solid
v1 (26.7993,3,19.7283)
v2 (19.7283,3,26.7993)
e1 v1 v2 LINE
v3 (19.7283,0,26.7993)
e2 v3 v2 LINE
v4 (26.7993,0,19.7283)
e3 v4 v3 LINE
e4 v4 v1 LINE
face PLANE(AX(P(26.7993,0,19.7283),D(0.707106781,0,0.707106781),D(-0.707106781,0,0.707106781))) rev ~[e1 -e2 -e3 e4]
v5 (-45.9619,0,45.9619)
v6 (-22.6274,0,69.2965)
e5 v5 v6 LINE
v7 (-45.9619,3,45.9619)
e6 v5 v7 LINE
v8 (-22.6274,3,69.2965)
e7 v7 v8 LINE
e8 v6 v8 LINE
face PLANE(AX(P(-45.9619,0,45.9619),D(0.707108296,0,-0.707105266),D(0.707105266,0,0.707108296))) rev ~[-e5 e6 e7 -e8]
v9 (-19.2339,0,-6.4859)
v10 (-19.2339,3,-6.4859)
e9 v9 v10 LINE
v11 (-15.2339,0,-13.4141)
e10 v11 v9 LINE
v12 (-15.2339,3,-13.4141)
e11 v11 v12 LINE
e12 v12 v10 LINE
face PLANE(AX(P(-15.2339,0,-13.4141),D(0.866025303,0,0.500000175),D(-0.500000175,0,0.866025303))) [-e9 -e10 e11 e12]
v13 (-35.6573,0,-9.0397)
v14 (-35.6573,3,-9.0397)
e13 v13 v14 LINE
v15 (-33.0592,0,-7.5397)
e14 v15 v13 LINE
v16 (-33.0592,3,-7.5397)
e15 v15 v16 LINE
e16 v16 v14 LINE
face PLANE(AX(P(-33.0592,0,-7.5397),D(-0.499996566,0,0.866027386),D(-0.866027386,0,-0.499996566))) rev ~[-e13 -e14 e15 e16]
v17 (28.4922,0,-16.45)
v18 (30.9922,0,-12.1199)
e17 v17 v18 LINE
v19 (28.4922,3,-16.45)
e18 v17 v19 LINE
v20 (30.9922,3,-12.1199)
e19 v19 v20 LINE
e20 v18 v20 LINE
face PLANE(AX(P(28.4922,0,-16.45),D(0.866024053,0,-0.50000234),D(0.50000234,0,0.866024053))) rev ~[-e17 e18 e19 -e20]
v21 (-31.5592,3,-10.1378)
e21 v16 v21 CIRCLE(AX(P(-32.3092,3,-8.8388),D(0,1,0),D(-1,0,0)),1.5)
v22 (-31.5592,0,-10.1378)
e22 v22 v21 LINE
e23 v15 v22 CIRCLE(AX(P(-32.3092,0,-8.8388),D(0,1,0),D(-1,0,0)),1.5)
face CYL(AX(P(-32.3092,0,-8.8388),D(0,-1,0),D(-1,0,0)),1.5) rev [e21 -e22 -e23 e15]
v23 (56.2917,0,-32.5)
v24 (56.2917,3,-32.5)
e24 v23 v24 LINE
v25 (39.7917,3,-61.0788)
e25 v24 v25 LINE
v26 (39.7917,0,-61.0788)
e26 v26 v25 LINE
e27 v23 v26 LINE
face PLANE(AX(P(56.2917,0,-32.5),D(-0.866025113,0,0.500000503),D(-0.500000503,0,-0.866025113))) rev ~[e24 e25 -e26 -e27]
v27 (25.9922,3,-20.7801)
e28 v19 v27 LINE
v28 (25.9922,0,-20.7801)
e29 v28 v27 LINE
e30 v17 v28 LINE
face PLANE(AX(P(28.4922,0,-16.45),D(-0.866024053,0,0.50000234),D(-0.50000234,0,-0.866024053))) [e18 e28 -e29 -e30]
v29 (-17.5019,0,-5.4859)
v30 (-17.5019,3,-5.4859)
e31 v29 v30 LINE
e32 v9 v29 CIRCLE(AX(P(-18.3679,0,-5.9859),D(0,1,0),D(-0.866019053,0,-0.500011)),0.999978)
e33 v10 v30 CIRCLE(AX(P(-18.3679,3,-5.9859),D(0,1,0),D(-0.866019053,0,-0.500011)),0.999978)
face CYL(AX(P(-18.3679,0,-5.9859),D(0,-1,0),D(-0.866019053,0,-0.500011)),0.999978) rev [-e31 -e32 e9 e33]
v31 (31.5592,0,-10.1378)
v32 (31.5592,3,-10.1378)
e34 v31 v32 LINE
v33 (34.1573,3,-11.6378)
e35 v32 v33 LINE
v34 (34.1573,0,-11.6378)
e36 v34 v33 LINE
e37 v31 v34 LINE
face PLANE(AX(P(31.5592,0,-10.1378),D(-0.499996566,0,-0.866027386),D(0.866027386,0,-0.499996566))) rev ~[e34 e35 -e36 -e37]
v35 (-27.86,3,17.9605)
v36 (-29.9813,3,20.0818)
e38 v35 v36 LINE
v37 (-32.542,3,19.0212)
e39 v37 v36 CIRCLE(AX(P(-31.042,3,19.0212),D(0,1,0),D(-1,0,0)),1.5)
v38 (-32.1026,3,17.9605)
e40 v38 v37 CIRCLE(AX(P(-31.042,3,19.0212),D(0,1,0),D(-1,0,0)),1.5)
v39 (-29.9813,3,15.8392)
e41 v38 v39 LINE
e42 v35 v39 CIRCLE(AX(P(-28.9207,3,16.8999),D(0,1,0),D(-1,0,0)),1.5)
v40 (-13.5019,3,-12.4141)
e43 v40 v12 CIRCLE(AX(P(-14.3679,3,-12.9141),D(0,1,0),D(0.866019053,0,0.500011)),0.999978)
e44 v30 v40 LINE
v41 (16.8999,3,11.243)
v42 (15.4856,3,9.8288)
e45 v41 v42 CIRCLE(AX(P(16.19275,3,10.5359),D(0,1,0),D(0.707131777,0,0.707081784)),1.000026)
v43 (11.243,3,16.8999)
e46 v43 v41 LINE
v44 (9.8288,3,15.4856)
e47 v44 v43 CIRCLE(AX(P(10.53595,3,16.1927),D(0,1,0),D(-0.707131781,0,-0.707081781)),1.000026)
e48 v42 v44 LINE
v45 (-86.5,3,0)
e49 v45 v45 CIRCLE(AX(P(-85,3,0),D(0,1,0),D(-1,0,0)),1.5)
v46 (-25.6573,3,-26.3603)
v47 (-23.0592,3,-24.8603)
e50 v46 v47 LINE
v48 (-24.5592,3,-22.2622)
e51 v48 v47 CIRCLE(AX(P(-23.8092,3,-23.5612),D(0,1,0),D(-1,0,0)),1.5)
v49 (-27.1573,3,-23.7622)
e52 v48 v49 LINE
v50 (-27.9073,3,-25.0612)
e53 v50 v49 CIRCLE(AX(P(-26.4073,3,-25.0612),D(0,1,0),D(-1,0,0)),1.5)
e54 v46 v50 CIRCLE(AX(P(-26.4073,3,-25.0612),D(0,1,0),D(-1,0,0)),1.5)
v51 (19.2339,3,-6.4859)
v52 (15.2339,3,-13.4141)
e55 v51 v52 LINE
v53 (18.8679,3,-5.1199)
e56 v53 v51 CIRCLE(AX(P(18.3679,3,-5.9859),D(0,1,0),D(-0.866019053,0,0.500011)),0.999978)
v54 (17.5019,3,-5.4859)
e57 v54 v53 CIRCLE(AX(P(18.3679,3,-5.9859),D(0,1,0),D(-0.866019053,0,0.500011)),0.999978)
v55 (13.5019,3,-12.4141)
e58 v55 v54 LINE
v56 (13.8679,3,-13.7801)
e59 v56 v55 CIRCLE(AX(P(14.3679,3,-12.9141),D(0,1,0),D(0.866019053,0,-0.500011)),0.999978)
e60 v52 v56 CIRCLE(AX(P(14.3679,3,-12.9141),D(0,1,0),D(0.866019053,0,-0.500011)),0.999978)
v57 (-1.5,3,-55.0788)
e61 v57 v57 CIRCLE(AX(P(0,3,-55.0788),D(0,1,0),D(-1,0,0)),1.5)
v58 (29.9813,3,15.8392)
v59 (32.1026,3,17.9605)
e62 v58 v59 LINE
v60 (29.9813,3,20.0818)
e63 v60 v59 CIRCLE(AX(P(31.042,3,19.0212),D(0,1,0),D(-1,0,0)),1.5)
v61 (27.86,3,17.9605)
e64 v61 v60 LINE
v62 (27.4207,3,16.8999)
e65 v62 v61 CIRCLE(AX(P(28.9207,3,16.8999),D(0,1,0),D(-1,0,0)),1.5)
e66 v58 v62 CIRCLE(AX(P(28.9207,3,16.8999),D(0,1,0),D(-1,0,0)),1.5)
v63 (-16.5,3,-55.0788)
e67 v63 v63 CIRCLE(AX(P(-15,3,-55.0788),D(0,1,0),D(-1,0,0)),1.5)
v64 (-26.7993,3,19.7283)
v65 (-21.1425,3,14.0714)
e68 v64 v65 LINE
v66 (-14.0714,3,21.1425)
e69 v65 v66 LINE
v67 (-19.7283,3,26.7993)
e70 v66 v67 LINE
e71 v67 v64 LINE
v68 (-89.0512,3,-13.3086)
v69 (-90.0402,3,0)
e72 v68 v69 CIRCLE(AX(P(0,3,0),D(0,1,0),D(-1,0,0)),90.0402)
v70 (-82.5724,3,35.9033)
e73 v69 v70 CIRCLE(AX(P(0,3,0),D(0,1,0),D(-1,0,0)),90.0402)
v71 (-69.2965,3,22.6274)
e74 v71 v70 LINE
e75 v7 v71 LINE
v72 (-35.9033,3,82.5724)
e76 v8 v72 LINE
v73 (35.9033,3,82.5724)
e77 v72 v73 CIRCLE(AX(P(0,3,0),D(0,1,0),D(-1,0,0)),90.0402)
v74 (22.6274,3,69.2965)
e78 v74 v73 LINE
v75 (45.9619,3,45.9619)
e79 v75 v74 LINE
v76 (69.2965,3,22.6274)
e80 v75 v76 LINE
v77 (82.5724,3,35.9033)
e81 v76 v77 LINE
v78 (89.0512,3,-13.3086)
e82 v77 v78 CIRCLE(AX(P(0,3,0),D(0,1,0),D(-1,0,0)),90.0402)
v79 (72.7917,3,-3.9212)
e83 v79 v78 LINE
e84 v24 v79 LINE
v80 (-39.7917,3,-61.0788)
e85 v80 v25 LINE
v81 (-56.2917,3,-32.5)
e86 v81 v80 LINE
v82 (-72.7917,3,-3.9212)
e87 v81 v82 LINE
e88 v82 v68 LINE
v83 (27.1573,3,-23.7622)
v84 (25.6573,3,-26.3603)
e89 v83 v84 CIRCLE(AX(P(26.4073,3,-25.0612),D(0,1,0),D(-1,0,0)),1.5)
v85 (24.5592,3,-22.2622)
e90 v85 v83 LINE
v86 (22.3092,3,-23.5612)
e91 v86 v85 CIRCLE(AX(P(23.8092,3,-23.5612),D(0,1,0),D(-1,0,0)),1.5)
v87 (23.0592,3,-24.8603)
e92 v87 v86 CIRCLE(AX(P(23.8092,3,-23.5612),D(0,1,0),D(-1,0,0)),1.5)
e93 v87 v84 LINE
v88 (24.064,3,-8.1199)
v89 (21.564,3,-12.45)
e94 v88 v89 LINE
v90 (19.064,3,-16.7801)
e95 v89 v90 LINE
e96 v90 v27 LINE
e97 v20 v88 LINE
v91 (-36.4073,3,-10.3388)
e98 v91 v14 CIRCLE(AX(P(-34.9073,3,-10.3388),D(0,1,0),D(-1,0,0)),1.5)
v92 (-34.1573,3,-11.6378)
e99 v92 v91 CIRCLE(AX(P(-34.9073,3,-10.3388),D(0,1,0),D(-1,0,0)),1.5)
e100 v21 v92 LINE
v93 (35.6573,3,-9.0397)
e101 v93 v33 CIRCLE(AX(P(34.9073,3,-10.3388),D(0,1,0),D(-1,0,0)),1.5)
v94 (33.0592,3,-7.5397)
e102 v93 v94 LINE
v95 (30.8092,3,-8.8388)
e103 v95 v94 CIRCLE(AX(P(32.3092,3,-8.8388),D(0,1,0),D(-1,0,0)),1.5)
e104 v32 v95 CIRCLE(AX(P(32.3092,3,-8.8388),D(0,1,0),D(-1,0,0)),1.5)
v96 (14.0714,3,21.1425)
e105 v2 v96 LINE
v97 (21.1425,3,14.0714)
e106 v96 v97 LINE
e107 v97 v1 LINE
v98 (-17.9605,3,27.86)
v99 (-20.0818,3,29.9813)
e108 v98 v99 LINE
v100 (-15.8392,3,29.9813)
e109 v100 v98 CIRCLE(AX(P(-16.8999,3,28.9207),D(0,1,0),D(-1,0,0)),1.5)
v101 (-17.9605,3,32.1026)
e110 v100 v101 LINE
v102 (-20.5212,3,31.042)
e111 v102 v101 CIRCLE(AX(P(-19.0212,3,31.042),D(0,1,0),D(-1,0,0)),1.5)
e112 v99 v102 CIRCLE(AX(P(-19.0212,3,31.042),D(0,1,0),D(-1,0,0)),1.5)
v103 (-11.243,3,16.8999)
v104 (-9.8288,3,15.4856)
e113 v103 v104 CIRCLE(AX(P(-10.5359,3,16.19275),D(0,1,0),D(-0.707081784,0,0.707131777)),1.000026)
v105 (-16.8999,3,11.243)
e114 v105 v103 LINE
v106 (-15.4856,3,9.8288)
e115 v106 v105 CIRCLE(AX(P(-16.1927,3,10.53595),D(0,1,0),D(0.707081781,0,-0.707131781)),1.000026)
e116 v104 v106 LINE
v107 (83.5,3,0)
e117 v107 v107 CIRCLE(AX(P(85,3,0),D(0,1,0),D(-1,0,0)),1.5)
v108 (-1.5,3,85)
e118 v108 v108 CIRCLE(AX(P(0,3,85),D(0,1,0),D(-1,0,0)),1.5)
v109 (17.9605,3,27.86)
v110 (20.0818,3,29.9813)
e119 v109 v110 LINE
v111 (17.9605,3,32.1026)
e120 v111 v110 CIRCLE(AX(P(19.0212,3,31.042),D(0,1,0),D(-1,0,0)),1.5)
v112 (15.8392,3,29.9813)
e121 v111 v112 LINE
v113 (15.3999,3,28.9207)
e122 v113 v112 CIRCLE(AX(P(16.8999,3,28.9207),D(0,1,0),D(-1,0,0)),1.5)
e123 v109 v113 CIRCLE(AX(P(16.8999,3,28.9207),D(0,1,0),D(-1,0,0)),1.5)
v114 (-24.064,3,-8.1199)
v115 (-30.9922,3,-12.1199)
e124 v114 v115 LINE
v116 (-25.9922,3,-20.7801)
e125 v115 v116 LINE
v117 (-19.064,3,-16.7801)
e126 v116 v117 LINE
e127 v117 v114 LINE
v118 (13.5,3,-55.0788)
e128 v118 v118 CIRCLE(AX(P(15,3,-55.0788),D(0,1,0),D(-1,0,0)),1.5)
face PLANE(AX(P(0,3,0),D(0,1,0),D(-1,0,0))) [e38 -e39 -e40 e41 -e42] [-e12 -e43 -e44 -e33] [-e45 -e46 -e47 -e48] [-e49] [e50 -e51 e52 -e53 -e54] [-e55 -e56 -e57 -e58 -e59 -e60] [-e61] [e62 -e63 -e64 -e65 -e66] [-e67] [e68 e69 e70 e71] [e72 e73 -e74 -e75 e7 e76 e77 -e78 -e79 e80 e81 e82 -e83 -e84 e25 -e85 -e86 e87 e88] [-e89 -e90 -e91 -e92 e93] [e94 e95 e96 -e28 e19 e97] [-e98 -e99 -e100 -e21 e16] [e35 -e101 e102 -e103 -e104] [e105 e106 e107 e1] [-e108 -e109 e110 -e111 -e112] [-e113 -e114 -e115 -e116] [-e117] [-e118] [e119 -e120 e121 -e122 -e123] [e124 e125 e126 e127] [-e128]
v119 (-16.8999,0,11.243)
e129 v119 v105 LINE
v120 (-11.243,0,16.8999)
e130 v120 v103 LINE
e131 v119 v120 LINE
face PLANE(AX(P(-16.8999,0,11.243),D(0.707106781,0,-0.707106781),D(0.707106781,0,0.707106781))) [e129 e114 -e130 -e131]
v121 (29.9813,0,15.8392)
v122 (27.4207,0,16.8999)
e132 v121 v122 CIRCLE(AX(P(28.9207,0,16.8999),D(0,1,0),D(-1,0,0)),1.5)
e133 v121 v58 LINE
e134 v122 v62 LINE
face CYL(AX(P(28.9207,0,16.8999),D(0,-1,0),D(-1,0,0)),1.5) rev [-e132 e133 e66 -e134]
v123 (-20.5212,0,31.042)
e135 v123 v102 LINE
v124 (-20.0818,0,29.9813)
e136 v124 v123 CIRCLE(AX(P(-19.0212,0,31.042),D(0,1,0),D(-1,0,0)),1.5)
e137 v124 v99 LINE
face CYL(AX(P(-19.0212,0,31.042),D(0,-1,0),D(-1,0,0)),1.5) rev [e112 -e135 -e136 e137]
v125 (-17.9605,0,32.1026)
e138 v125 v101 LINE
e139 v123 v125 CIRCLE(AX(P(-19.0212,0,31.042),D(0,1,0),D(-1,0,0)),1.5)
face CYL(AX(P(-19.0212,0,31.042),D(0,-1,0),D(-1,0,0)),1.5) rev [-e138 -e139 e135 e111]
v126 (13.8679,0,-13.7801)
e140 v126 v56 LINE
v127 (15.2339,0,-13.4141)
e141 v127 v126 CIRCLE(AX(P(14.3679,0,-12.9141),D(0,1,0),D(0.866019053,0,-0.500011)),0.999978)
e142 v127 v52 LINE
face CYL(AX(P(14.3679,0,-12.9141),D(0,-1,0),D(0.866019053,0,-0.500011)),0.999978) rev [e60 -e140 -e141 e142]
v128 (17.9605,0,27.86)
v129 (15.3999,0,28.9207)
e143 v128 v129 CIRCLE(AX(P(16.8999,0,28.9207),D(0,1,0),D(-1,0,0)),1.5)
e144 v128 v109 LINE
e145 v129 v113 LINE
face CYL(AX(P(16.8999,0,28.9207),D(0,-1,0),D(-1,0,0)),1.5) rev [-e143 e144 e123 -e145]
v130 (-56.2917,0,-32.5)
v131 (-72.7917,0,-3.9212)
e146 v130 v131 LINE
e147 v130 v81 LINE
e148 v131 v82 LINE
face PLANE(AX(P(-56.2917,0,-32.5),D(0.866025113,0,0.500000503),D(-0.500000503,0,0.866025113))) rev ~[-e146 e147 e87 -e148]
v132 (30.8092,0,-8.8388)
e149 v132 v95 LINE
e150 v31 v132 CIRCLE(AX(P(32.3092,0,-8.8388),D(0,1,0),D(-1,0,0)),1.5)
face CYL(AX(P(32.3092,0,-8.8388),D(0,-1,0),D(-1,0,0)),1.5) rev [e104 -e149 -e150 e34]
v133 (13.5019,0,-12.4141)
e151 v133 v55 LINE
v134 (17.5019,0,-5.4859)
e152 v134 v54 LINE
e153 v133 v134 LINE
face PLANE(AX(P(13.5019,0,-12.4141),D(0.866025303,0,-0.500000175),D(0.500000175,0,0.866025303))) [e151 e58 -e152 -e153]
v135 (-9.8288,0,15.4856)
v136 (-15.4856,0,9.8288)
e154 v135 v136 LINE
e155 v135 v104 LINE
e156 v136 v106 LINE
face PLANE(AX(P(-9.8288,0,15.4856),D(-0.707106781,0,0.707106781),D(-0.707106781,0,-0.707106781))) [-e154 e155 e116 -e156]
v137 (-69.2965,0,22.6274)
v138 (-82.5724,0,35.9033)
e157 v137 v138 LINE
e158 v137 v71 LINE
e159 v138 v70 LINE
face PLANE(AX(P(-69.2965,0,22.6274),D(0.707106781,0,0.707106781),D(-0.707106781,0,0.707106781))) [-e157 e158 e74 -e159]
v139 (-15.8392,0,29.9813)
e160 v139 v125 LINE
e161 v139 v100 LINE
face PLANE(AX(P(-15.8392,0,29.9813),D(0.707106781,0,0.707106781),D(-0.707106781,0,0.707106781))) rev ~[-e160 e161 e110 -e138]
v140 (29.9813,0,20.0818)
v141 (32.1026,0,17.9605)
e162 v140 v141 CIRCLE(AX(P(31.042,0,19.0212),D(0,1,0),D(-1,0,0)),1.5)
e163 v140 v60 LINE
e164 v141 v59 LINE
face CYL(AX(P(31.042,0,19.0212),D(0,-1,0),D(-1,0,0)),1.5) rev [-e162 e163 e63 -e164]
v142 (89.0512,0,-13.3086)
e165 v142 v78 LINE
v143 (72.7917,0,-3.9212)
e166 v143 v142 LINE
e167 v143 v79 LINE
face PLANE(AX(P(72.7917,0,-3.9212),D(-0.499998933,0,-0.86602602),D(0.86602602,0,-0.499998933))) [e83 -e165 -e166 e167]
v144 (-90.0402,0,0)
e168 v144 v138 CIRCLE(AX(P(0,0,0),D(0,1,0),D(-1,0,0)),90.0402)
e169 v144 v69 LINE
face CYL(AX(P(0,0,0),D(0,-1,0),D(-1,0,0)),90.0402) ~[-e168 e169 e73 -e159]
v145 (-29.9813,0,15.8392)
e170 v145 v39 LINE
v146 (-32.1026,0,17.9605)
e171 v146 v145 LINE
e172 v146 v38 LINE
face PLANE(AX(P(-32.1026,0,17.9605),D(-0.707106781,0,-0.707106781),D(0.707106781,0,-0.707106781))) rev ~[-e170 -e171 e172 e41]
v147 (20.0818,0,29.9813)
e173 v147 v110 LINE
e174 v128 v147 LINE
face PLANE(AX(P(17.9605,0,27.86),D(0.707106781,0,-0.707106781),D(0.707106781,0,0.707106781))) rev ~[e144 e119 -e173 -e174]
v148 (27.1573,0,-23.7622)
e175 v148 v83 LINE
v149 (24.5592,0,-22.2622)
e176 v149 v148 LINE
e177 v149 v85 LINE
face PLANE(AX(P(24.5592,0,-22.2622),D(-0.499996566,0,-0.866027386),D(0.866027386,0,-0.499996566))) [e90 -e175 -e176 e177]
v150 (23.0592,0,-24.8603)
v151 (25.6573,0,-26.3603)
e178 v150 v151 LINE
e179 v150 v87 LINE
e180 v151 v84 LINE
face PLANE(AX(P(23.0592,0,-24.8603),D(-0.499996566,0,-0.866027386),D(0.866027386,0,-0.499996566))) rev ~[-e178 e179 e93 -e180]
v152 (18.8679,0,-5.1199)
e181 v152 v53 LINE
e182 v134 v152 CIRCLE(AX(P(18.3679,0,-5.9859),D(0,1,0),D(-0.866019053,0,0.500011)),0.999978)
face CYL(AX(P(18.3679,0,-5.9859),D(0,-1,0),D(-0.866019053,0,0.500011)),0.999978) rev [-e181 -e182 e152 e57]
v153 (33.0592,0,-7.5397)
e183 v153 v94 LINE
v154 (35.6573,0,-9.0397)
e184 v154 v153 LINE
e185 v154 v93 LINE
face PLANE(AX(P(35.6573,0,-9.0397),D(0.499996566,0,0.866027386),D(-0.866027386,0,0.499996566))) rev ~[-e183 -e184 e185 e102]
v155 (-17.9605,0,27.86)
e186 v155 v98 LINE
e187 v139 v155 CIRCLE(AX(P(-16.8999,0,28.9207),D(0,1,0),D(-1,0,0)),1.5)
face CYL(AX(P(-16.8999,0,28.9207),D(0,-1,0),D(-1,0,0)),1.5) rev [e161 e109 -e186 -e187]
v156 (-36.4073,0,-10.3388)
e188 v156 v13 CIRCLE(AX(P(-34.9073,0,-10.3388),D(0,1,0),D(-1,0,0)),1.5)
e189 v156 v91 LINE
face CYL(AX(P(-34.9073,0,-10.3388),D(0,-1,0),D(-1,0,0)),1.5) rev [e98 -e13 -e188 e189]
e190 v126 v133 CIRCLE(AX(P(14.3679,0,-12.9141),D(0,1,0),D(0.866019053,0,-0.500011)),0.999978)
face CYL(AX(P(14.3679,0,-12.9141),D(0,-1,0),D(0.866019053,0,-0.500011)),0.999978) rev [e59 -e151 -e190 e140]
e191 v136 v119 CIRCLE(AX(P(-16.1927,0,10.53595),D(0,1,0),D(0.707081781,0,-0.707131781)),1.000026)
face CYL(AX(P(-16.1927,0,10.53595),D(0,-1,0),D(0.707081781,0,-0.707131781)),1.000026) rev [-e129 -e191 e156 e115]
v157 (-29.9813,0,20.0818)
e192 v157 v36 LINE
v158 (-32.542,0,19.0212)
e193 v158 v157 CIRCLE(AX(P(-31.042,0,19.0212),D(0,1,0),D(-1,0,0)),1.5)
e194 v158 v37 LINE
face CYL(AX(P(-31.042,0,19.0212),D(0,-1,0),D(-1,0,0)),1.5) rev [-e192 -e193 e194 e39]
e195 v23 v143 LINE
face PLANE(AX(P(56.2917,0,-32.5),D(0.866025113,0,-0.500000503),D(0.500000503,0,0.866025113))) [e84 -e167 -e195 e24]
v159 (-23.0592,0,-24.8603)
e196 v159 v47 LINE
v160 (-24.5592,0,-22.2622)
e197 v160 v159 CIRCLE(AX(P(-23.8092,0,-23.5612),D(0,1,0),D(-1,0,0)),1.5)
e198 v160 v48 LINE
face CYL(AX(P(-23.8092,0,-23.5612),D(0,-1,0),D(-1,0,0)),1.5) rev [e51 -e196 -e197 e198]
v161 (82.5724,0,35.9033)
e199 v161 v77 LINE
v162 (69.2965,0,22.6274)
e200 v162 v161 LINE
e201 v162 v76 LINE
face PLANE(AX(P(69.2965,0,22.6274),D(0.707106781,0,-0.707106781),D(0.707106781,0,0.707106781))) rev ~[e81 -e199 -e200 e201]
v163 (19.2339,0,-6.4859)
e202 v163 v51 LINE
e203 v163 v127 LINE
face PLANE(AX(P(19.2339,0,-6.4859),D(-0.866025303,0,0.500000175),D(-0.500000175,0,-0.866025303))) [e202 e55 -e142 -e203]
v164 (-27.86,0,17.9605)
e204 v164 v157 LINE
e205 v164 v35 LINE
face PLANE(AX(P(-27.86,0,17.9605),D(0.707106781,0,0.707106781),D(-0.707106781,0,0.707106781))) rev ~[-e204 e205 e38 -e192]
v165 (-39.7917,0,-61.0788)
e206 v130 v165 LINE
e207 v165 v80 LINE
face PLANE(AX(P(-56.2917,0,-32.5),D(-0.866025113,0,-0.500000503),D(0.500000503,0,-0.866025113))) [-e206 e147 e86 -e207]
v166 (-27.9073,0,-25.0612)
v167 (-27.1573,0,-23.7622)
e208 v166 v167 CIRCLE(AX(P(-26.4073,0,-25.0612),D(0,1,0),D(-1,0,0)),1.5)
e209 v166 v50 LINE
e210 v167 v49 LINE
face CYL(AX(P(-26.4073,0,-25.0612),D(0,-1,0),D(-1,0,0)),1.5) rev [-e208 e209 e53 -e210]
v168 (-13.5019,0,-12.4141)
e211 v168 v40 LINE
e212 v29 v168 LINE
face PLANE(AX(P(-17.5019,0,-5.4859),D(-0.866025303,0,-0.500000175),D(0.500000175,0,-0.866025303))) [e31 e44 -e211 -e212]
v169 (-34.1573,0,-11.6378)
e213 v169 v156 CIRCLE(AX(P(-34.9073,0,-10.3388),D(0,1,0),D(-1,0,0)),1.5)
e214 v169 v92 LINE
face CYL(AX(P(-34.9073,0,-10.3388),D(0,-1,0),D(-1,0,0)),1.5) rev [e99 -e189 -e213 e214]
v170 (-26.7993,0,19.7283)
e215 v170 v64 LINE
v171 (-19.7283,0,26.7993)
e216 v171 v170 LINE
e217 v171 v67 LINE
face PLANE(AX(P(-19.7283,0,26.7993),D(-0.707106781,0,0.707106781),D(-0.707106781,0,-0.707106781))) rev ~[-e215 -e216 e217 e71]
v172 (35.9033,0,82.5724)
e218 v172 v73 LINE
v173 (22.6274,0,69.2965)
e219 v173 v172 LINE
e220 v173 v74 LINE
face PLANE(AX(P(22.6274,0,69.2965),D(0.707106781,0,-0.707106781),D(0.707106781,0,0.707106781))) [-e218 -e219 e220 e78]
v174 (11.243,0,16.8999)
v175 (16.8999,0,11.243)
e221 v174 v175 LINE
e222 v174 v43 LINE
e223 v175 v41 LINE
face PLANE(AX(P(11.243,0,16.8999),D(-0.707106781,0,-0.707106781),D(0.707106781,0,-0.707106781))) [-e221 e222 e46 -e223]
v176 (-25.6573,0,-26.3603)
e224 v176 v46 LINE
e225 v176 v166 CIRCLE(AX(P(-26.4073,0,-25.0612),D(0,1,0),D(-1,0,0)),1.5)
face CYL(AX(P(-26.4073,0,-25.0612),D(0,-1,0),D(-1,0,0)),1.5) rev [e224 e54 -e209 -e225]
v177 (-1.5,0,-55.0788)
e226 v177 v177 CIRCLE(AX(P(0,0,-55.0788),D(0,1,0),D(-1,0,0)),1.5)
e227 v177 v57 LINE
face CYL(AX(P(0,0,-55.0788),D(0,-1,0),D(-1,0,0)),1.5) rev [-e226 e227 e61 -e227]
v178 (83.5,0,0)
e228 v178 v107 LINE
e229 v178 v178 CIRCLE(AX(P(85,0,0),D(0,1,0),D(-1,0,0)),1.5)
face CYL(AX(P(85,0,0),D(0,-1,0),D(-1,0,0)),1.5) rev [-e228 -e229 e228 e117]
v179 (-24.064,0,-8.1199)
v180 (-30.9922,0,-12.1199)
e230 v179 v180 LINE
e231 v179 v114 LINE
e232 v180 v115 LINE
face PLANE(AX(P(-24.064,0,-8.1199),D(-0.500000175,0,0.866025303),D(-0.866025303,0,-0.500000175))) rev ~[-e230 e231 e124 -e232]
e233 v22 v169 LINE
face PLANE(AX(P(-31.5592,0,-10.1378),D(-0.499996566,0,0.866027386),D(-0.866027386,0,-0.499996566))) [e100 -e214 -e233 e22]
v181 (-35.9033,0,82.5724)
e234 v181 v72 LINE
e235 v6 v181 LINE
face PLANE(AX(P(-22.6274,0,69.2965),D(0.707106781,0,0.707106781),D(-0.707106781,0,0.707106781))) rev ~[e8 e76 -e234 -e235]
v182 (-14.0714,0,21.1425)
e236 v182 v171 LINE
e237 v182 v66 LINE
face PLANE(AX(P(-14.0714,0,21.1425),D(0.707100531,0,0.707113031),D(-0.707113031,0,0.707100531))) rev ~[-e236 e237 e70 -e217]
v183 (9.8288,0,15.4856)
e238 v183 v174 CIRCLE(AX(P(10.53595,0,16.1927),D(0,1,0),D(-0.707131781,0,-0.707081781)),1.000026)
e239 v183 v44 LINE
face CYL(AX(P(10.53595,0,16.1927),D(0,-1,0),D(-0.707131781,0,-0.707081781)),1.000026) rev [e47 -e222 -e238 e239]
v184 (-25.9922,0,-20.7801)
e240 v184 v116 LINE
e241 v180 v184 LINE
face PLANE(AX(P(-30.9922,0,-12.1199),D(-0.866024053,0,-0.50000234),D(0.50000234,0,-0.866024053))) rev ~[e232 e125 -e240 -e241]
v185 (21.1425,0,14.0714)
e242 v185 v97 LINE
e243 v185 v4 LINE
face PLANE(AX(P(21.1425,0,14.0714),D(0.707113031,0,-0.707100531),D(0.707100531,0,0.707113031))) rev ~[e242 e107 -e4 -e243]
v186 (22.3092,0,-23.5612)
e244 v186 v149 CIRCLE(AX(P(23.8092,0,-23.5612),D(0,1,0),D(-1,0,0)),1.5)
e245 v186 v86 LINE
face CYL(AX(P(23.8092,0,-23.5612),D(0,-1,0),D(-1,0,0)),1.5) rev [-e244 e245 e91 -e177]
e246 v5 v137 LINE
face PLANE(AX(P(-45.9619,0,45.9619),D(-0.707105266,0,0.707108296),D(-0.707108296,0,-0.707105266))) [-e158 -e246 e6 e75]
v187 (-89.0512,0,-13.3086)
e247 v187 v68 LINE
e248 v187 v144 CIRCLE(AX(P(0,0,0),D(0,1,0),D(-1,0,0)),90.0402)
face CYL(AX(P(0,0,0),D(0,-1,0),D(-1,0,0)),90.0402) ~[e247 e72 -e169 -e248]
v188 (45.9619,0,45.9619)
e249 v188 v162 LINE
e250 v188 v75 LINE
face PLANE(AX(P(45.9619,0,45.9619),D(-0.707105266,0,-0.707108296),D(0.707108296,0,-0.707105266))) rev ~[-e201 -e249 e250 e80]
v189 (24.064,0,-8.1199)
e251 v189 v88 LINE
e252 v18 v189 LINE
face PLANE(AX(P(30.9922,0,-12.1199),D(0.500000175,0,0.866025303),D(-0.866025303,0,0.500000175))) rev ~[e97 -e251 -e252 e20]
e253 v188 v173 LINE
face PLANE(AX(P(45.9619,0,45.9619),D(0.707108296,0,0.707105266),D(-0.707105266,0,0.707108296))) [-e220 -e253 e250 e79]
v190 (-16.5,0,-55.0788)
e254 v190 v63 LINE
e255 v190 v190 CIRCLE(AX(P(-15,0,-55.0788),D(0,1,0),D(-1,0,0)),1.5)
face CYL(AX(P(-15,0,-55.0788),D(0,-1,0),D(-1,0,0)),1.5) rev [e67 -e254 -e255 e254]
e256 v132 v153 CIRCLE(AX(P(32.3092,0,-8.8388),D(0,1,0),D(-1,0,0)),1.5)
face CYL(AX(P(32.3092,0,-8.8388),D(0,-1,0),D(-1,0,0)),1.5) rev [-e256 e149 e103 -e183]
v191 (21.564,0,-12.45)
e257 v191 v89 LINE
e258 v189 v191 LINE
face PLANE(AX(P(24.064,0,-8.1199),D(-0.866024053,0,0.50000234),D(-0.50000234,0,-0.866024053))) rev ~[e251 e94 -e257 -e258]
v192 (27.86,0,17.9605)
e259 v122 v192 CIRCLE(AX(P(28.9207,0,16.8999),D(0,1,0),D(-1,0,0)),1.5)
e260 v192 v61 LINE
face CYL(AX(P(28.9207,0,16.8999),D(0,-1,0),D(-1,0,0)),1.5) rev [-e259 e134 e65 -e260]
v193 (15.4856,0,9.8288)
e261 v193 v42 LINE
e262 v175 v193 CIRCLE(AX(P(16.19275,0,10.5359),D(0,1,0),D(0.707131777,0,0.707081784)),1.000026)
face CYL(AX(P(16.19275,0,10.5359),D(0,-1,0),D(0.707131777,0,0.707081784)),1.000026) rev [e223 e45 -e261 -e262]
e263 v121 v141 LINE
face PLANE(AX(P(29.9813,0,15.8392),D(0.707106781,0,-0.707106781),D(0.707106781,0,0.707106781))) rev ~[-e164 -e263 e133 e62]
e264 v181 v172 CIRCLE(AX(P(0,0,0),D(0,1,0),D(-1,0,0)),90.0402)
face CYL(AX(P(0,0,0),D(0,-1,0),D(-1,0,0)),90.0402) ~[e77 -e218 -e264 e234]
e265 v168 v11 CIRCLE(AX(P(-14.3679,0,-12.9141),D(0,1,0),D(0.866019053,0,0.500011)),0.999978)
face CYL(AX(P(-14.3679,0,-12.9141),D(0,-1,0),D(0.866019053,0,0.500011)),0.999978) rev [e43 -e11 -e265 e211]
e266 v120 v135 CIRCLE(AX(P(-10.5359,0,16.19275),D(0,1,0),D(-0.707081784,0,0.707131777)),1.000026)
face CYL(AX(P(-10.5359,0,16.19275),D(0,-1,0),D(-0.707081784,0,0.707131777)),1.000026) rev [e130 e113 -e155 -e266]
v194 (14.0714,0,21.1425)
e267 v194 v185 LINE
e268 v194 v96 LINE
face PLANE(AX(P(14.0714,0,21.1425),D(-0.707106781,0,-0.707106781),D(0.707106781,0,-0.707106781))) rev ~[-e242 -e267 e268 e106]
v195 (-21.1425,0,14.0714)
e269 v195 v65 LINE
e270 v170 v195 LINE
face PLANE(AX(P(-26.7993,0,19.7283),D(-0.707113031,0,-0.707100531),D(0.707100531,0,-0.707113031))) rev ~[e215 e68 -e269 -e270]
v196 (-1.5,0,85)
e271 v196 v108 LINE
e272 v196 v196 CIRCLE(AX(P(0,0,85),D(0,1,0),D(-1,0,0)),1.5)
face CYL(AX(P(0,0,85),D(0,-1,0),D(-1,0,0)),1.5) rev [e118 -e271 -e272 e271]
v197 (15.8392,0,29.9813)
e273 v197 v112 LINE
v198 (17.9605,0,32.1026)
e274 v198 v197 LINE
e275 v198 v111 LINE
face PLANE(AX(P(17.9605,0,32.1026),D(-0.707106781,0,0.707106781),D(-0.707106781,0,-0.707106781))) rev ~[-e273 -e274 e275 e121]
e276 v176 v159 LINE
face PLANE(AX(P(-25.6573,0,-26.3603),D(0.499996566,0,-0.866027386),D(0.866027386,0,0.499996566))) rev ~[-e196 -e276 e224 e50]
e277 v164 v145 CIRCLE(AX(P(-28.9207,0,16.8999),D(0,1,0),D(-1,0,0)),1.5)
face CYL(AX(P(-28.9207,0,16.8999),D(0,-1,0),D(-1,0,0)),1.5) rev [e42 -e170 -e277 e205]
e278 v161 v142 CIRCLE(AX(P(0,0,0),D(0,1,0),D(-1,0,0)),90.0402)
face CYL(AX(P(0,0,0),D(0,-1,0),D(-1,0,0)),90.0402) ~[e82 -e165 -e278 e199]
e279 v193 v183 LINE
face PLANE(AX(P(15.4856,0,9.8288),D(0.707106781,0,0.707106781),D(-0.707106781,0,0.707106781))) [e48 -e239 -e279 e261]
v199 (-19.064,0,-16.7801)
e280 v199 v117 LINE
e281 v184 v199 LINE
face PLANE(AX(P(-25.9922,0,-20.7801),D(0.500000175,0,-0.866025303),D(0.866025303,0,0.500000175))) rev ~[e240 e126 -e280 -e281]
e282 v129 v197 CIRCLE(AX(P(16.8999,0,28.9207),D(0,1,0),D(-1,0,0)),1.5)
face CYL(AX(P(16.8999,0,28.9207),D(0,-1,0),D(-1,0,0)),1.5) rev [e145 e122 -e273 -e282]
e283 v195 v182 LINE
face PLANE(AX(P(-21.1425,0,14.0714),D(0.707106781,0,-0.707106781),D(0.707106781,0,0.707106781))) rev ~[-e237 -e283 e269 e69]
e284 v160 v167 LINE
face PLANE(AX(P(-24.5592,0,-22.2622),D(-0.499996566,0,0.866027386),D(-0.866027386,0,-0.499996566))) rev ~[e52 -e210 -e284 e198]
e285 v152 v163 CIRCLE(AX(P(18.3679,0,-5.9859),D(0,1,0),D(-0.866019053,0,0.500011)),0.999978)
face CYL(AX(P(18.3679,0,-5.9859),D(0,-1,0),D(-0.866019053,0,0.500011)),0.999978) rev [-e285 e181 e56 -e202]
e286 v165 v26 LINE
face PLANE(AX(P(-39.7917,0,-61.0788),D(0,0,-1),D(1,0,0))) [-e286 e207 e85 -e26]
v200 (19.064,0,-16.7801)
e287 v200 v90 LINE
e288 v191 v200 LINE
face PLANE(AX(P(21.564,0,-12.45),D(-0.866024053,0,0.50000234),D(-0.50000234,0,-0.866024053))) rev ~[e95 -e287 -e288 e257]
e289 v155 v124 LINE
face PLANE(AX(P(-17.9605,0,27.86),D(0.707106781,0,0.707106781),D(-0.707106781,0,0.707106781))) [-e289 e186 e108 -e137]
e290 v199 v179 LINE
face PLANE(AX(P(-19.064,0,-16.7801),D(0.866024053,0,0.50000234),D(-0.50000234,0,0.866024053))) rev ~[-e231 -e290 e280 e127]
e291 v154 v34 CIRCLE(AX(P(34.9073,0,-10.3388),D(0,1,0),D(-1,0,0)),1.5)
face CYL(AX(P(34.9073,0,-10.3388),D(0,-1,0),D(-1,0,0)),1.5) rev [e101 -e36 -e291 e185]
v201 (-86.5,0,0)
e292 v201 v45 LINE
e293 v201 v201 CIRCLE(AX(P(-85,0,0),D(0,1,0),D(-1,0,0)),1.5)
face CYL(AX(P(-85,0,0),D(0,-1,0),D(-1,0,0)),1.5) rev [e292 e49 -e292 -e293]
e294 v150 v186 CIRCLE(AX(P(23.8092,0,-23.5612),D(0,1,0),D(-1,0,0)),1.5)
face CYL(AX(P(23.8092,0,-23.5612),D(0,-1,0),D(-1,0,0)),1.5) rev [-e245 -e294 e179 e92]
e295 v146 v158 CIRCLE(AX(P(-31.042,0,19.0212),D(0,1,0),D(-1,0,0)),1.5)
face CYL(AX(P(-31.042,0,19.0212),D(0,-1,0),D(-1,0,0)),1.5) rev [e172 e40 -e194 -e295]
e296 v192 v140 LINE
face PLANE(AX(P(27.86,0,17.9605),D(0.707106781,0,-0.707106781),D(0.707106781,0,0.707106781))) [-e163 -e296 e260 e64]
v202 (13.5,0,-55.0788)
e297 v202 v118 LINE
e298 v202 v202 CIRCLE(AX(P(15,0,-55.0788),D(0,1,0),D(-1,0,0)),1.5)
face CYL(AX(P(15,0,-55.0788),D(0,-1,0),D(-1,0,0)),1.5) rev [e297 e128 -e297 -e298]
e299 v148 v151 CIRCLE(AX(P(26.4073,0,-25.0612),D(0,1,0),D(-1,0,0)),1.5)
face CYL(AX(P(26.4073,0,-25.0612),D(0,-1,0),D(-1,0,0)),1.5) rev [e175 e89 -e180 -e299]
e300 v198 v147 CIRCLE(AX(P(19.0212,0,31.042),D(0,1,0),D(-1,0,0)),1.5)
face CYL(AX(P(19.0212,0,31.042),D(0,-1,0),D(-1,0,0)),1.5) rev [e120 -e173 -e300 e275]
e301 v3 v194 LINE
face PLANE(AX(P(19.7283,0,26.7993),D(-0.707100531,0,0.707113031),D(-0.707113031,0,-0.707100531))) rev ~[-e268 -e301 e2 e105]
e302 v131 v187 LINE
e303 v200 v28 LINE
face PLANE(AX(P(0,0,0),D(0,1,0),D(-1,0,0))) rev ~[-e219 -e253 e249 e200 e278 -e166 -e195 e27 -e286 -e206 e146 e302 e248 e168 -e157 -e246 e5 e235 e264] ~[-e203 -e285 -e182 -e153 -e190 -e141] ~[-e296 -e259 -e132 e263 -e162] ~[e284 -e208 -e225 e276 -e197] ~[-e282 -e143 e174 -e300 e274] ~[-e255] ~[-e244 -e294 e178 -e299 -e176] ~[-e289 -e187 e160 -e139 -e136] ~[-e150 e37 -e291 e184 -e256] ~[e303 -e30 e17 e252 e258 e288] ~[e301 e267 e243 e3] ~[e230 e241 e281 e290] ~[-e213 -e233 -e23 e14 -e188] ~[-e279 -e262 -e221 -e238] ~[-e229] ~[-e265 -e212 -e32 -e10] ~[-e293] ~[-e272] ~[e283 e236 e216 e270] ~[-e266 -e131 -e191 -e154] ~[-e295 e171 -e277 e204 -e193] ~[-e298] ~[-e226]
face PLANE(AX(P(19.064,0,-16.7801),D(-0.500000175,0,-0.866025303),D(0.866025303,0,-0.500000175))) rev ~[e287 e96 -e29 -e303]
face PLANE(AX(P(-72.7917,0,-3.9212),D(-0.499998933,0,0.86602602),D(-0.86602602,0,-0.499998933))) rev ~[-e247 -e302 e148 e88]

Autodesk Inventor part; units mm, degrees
ref_plane "YZ Plane" through (0, 0, 0) normal (1, 0, 0) x (0, 1, 0)
ref_plane "XZ Plane" through (0, 0, 0) normal (0, 1, 0) x (-1, 0, 0)
ref_plane "XY Plane" through (0, 0, 0) normal (0, 0, 1) x (1, 0, 0)
sketch "Sketch1" plane through (0, 0, 0) normal (0, 1, 0) x (-1, 0, 0)
  circle A0 centre (0, 0) radius 90.0402
  line L0 (77.9423, -45) -> (56.2917, -32.5)
  line L1 (56.2917, -32.5) -> (39.7917, -61.0788)
  line L2 (39.7917, -61.0788) -> (56.0512, -70.4663)
  line L3 (56.2917, -32.5) -> (72.7917, -3.9212)
  line L4 (72.7917, -3.9212) -> (89.0512, -13.3086)
  line L5 (77.9423, -45) -> (61.4878, -35.5)
  line L6 (-77.9423, -45) -> (-56.2917, -32.5)
  line L7 (-56.2917, -32.5) -> (-72.7917, -3.9212)
  line L8 (-72.7917, -3.9212) -> (-89.0512, -13.3086)
  line L9 (-56.2917, -32.5) -> (-39.7917, -61.0788)
  line L10 (-39.7917, -61.0788) -> (-56.0512, -70.4663)
  line L11 (-77.9423, -45) -> (-61.4878, -35.5)
  line L12 (-24.1621, -13.95) -> (-28.4922, -16.45)
  line L13 (-24.1621, -13.95) -> (-21.564, -12.45)
  line L14 (-28.4922, -16.45) -> (-25.9922, -20.7801)
  line L15 (-28.4922, -16.45) -> (-30.9922, -12.1199)
  line L16 (-25.9922, -20.7801) -> (-30.9922, -12.1199)
  line L17 (-30.9922, -12.1199) -> (-24.064, -8.1199)
  line L18 (-24.064, -8.1199) -> (-19.064, -16.7801)
  line L19 (-19.064, -16.7801) -> (-25.9922, -20.7801)
  circle A1 centre (-34.9073, -10.3388) radius 1.5
  circle A2 centre (-26.4073, -25.0612) radius 1.5
  line L20 (-26.4073, -25.0612) -> (-23.8092, -23.5612)
  line L21 (-34.9073, -10.3388) -> (-32.3092, -8.8388)
  circle A3 centre (-32.3092, -8.8388) radius 1.5
  circle A4 centre (-23.8092, -23.5612) radius 1.5
  line L22 (-23.0592, -24.8603) -> (-25.6573, -26.3603)
  line L23 (-24.5592, -22.2622) -> (-27.1573, -23.7622)
  line L24 (-31.5592, -10.1378) -> (-34.1573, -11.6378)
  line L25 (-35.6573, -9.0397) -> (-33.0592, -7.5397)
  line L26 (-16.3679, -9.45) -> (-18.8679, -5.1199)
  line L27 (-16.3679, -9.45) -> (-13.8679, -13.7801)
  line L28 (-13.8679, -13.7801) -> (-18.8679, -5.1199) construction
  line L29 (-13.5019, -12.4141) -> (-17.5019, -5.4859)
  line L30 (-19.2339, -6.4859) -> (-15.2339, -13.4141)
  arc A5 (-15.2339, -13.4141) -> (-13.5019, -12.4141) centre (-14.3679, -12.9141) ccw
  arc A6 (-17.5019, -5.4859) -> (-19.2339, -6.4859) centre (-18.3679, -5.9859) ccw
  line L31 (39.7917, -61.0788) -> (-39.7917, -61.0788)
  line L32 (15.2339, -13.4141) -> (19.2339, -6.4859)
  arc A7 (19.2339, -6.4859) -> (17.5019, -5.4859) centre (18.3679, -5.9859) ccw
  line L33 (17.5019, -5.4859) -> (13.5019, -12.4141)
  arc A8 (13.5019, -12.4141) -> (15.2339, -13.4141) centre (14.3679, -12.9141) ccw
  line L34 (19.064, -16.7801) -> (24.064, -8.1199)
  line L35 (25.9922, -20.7801) -> (19.064, -16.7801)
  line L36 (30.9922, -12.1199) -> (25.9922, -20.7801)
  line L37 (24.064, -8.1199) -> (30.9922, -12.1199)
  circle A9 centre (23.8092, -23.5612) radius 1.5
  line L38 (24.5592, -22.2622) -> (27.1573, -23.7622)
  circle A10 centre (26.4073, -25.0612) radius 1.5
  line L39 (25.6573, -26.3603) -> (23.0592, -24.8603)
  line L40 (31.5592, -10.1378) -> (34.1573, -11.6378)
  circle A11 centre (32.3092, -8.8388) radius 1.5
  line L41 (33.0592, -7.5397) -> (35.6573, -9.0397)
  circle A12 centre (34.9073, -10.3388) radius 1.5
  line L42 (31.042, 19.0212) -> (28.9207, 16.8999)
  circle A13 centre (28.9207, 16.8999) radius 1.5
  line L43 (27.86, 17.9605) -> (29.9813, 20.0818)
  line L44 (32.1026, 17.9605) -> (29.9813, 15.8392)
  circle A14 centre (31.042, 19.0212) radius 1.5
  line L45 (26.7993, 19.7283) -> (21.1425, 14.0714)
  line L46 (19.7283, 26.7993) -> (26.7993, 19.7283)
  line L47 (14.0714, 21.1425) -> (19.7283, 26.7993)
  line L48 (21.1425, 14.0714) -> (14.0714, 21.1425)
  line L49 (16.8999, 11.243) -> (11.243, 16.8999)
  arc A15 (11.243, 16.8999) -> (9.8288, 15.4856) centre (10.5359, 16.1927) ccw
  line L50 (9.8288, 15.4856) -> (15.4856, 9.8288)
  arc A16 (15.4856, 9.8288) -> (16.8999, 11.243) centre (16.1927, 10.5359) ccw
  line L51 (17.9605, 27.86) -> (20.0818, 29.9813)
  circle A17 centre (16.8999, 28.9207) radius 1.5
  line L52 (15.8392, 29.9813) -> (17.9605, 32.1026)
  circle A18 centre (19.0212, 31.042) radius 1.5
  line L53 (-15.4856, 9.8288) -> (-9.8288, 15.4856)
  arc A19 (-9.8288, 15.4856) -> (-11.243, 16.8999) centre (-10.5359, 16.1927) ccw
  line L54 (-11.243, 16.8999) -> (-16.8999, 11.243)
  arc A20 (-16.8999, 11.243) -> (-15.4856, 9.8288) centre (-16.1927, 10.5359) ccw
  circle A21 centre (-28.9207, 16.8999) radius 1.5
  circle A22 centre (-31.042, 19.0212) radius 1.5
  line L55 (-29.9813, 15.8392) -> (-32.1026, 17.9605)
  line L56 (-27.86, 17.9605) -> (-29.9813, 20.0818)
  line L57 (-21.1425, 14.0714) -> (-26.7993, 19.7283)
  line L58 (-26.7993, 19.7283) -> (-19.7283, 26.7993)
  line L59 (-19.7283, 26.7993) -> (-14.0714, 21.1425)
  line L60 (-14.0714, 21.1425) -> (-21.1425, 14.0714)
  circle A23 centre (-16.8999, 28.9207) radius 1.5
  line L61 (-17.9605, 32.1026) -> (-15.8392, 29.9813)
  circle A24 centre (-19.0212, 31.042) radius 1.5
  line L62 (-17.9605, 27.86) -> (-20.0818, 29.9813)
  line L63 (63.6396, 63.6396) -> (45.9619, 45.9619)
  line L64 (45.9619, 45.9619) -> (22.6274, 69.2965)
  line L65 (22.6274, 69.2965) -> (35.9033, 82.5724)
  line L66 (45.9619, 45.9619) -> (69.2965, 22.6274)
  line L67 (69.2965, 22.6274) -> (82.5724, 35.9033)
  line L68 (-63.6396, 63.6396) -> (-45.9619, 45.9619)
  line L69 (-45.9619, 45.9619) -> (-69.2965, 22.6274)
  line L70 (-69.2965, 22.6274) -> (-82.5724, 35.9033)
  line L71 (-45.9619, 45.9619) -> (-22.6274, 69.2965)
  line L72 (-22.6274, 69.2965) -> (-35.9033, 82.5724)
  circle A25 centre (85, 0) radius 1.5
  circle A26 centre (0, 85) radius 1.5
  circle A27 centre (-85, 0) radius 1.5
  circle A28 centre (0, -85) radius 1.5
  circle A29 centre (15, -55.0788) radius 1.5
  circle A30 centre (0, -55.0788) radius 1.5
  circle A31 centre (-15, -55.0788) radius 1.5
  point P0 (-16.3679, -9.45)
  point P1 (16.8999, 9.8288)
  dimension "d12" = 19
  dimension "d18" = 19
  dimension "d20" = 5
  dimension "d21" = 3
  dimension "d27" = 3
  dimension "d28" = 3
  dimension "d29" = 3
  dimension "d30" = 3
  dimension "d31" = 6
  dimension "d32" = 5
  dimension "d33" = 5
  dimension "d34" = 2
  dimension "d37" = 120
  dimension "d41" = 195
  dimension "d45" = 90
  dimension "d47" = 25
  dimension "d48" = 33
  dimension "d49" = 33
  dimension "d50" = 25
  dimension "d51" = 33
  dimension "d52" = 33
  dimension "d54" = 3
  dimension "d57" = 360
  dimension "d64" = 3
  dimension "d65" = 3
  dimension "d66" = 3
extrude "Extrusion2" add sketch "Sketch1" along normal blind 3 contours A0 L4 L3 L1 L31 L9 L7 L8 L70 L69 L71 L72 L65 L64 L66 L67
sketch "Sketch2" plane through (0, 3, 0) normal (0, 1, 0) x (1, 0, 0)
  arc A0 (-157.438, -40.5996) -> (-237.0213, -40.5996) centre (-197.2297, 40.1708) ccw
  line L0 (-225.7219, 23.7208) -> (-223.7219, 20.2567)
  line L1 (-225.7219, 23.7208) -> (-227.7219, 27.1849)
  line L2 (-213.5976, 30.7208) -> (-215.5976, 34.1849)
  line L3 (-213.5976, 30.7208) -> (-211.5976, 27.2567)
  line L4 (-157.438, -20.908) -> (-237.0213, -20.908)
  circle A1 centre (-112.2297, 40.1708) radius 1.5
  circle A2 centre (-197.2297, 125.1708) radius 1.5
  circle A3 centre (-282.2297, 40.1708) radius 1.5
  circle A4 centre (-197.2297, -44.8292) radius 1.5
  circle A5 centre (-182.2297, -14.908) radius 1.5
  circle A6 centre (-197.2297, -14.908) radius 1.5
  circle A7 centre (-212.2297, -14.908) radius 1.5
  line L5 (-215.5976, 34.1849) -> (-211.5976, 27.2567)
  line L6 (-211.5976, 27.2567) -> (-223.7219, 20.2567)
  line L7 (-223.7219, 20.2567) -> (-227.7219, 27.1849)
  line L8 (-227.7219, 27.1849) -> (-215.5976, 34.1849)
  line L9 (-213.4224, 50.7067) -> (-207.7656, 56.3636)
  line L10 (-207.7656, 56.3636) -> (-217.6651, 66.2631)
  line L11 (-217.6651, 66.2631) -> (-223.3219, 60.6062)
  line L12 (-223.3219, 60.6062) -> (-213.4224, 50.7067)
  line L13 (-186.6938, 56.3636) -> (-181.0369, 50.7067)
  line L14 (-181.0369, 50.7067) -> (-171.1374, 60.6062)
  line L15 (-171.1374, 60.6062) -> (-176.7943, 66.2631)
  line L16 (-176.7943, 66.2631) -> (-186.6938, 56.3636)
  line L17 (-178.8618, 34.1849) -> (-182.8618, 27.2567)
  line L18 (-182.8618, 27.2567) -> (-170.7374, 20.2567)
  line L19 (-170.7374, 20.2567) -> (-166.7374, 27.1849)
  line L20 (-166.7374, 27.1849) -> (-178.8618, 34.1849)
  line L21 (-223.7219, 20.2567) -> (-227.7219, 27.1849)
  line L22 (-219.9278, 109.3966) -> (-219.8571, 109.4673)
  line L23 (-237.0213, -20.908) -> (-237.0213, -40.5996)
  line L24 (-157.438, -20.908) -> (-157.438, -40.5996)
  point P0 (0, 0)
  point P1 (-213.5976, 30.7208)
  dimension "d98" = 3
  dimension "d99" = 360
  dimension "d100" = 3
  dimension "d101" = 3
  dimension "d102" = 3
properties part number "BaseV7.5"
